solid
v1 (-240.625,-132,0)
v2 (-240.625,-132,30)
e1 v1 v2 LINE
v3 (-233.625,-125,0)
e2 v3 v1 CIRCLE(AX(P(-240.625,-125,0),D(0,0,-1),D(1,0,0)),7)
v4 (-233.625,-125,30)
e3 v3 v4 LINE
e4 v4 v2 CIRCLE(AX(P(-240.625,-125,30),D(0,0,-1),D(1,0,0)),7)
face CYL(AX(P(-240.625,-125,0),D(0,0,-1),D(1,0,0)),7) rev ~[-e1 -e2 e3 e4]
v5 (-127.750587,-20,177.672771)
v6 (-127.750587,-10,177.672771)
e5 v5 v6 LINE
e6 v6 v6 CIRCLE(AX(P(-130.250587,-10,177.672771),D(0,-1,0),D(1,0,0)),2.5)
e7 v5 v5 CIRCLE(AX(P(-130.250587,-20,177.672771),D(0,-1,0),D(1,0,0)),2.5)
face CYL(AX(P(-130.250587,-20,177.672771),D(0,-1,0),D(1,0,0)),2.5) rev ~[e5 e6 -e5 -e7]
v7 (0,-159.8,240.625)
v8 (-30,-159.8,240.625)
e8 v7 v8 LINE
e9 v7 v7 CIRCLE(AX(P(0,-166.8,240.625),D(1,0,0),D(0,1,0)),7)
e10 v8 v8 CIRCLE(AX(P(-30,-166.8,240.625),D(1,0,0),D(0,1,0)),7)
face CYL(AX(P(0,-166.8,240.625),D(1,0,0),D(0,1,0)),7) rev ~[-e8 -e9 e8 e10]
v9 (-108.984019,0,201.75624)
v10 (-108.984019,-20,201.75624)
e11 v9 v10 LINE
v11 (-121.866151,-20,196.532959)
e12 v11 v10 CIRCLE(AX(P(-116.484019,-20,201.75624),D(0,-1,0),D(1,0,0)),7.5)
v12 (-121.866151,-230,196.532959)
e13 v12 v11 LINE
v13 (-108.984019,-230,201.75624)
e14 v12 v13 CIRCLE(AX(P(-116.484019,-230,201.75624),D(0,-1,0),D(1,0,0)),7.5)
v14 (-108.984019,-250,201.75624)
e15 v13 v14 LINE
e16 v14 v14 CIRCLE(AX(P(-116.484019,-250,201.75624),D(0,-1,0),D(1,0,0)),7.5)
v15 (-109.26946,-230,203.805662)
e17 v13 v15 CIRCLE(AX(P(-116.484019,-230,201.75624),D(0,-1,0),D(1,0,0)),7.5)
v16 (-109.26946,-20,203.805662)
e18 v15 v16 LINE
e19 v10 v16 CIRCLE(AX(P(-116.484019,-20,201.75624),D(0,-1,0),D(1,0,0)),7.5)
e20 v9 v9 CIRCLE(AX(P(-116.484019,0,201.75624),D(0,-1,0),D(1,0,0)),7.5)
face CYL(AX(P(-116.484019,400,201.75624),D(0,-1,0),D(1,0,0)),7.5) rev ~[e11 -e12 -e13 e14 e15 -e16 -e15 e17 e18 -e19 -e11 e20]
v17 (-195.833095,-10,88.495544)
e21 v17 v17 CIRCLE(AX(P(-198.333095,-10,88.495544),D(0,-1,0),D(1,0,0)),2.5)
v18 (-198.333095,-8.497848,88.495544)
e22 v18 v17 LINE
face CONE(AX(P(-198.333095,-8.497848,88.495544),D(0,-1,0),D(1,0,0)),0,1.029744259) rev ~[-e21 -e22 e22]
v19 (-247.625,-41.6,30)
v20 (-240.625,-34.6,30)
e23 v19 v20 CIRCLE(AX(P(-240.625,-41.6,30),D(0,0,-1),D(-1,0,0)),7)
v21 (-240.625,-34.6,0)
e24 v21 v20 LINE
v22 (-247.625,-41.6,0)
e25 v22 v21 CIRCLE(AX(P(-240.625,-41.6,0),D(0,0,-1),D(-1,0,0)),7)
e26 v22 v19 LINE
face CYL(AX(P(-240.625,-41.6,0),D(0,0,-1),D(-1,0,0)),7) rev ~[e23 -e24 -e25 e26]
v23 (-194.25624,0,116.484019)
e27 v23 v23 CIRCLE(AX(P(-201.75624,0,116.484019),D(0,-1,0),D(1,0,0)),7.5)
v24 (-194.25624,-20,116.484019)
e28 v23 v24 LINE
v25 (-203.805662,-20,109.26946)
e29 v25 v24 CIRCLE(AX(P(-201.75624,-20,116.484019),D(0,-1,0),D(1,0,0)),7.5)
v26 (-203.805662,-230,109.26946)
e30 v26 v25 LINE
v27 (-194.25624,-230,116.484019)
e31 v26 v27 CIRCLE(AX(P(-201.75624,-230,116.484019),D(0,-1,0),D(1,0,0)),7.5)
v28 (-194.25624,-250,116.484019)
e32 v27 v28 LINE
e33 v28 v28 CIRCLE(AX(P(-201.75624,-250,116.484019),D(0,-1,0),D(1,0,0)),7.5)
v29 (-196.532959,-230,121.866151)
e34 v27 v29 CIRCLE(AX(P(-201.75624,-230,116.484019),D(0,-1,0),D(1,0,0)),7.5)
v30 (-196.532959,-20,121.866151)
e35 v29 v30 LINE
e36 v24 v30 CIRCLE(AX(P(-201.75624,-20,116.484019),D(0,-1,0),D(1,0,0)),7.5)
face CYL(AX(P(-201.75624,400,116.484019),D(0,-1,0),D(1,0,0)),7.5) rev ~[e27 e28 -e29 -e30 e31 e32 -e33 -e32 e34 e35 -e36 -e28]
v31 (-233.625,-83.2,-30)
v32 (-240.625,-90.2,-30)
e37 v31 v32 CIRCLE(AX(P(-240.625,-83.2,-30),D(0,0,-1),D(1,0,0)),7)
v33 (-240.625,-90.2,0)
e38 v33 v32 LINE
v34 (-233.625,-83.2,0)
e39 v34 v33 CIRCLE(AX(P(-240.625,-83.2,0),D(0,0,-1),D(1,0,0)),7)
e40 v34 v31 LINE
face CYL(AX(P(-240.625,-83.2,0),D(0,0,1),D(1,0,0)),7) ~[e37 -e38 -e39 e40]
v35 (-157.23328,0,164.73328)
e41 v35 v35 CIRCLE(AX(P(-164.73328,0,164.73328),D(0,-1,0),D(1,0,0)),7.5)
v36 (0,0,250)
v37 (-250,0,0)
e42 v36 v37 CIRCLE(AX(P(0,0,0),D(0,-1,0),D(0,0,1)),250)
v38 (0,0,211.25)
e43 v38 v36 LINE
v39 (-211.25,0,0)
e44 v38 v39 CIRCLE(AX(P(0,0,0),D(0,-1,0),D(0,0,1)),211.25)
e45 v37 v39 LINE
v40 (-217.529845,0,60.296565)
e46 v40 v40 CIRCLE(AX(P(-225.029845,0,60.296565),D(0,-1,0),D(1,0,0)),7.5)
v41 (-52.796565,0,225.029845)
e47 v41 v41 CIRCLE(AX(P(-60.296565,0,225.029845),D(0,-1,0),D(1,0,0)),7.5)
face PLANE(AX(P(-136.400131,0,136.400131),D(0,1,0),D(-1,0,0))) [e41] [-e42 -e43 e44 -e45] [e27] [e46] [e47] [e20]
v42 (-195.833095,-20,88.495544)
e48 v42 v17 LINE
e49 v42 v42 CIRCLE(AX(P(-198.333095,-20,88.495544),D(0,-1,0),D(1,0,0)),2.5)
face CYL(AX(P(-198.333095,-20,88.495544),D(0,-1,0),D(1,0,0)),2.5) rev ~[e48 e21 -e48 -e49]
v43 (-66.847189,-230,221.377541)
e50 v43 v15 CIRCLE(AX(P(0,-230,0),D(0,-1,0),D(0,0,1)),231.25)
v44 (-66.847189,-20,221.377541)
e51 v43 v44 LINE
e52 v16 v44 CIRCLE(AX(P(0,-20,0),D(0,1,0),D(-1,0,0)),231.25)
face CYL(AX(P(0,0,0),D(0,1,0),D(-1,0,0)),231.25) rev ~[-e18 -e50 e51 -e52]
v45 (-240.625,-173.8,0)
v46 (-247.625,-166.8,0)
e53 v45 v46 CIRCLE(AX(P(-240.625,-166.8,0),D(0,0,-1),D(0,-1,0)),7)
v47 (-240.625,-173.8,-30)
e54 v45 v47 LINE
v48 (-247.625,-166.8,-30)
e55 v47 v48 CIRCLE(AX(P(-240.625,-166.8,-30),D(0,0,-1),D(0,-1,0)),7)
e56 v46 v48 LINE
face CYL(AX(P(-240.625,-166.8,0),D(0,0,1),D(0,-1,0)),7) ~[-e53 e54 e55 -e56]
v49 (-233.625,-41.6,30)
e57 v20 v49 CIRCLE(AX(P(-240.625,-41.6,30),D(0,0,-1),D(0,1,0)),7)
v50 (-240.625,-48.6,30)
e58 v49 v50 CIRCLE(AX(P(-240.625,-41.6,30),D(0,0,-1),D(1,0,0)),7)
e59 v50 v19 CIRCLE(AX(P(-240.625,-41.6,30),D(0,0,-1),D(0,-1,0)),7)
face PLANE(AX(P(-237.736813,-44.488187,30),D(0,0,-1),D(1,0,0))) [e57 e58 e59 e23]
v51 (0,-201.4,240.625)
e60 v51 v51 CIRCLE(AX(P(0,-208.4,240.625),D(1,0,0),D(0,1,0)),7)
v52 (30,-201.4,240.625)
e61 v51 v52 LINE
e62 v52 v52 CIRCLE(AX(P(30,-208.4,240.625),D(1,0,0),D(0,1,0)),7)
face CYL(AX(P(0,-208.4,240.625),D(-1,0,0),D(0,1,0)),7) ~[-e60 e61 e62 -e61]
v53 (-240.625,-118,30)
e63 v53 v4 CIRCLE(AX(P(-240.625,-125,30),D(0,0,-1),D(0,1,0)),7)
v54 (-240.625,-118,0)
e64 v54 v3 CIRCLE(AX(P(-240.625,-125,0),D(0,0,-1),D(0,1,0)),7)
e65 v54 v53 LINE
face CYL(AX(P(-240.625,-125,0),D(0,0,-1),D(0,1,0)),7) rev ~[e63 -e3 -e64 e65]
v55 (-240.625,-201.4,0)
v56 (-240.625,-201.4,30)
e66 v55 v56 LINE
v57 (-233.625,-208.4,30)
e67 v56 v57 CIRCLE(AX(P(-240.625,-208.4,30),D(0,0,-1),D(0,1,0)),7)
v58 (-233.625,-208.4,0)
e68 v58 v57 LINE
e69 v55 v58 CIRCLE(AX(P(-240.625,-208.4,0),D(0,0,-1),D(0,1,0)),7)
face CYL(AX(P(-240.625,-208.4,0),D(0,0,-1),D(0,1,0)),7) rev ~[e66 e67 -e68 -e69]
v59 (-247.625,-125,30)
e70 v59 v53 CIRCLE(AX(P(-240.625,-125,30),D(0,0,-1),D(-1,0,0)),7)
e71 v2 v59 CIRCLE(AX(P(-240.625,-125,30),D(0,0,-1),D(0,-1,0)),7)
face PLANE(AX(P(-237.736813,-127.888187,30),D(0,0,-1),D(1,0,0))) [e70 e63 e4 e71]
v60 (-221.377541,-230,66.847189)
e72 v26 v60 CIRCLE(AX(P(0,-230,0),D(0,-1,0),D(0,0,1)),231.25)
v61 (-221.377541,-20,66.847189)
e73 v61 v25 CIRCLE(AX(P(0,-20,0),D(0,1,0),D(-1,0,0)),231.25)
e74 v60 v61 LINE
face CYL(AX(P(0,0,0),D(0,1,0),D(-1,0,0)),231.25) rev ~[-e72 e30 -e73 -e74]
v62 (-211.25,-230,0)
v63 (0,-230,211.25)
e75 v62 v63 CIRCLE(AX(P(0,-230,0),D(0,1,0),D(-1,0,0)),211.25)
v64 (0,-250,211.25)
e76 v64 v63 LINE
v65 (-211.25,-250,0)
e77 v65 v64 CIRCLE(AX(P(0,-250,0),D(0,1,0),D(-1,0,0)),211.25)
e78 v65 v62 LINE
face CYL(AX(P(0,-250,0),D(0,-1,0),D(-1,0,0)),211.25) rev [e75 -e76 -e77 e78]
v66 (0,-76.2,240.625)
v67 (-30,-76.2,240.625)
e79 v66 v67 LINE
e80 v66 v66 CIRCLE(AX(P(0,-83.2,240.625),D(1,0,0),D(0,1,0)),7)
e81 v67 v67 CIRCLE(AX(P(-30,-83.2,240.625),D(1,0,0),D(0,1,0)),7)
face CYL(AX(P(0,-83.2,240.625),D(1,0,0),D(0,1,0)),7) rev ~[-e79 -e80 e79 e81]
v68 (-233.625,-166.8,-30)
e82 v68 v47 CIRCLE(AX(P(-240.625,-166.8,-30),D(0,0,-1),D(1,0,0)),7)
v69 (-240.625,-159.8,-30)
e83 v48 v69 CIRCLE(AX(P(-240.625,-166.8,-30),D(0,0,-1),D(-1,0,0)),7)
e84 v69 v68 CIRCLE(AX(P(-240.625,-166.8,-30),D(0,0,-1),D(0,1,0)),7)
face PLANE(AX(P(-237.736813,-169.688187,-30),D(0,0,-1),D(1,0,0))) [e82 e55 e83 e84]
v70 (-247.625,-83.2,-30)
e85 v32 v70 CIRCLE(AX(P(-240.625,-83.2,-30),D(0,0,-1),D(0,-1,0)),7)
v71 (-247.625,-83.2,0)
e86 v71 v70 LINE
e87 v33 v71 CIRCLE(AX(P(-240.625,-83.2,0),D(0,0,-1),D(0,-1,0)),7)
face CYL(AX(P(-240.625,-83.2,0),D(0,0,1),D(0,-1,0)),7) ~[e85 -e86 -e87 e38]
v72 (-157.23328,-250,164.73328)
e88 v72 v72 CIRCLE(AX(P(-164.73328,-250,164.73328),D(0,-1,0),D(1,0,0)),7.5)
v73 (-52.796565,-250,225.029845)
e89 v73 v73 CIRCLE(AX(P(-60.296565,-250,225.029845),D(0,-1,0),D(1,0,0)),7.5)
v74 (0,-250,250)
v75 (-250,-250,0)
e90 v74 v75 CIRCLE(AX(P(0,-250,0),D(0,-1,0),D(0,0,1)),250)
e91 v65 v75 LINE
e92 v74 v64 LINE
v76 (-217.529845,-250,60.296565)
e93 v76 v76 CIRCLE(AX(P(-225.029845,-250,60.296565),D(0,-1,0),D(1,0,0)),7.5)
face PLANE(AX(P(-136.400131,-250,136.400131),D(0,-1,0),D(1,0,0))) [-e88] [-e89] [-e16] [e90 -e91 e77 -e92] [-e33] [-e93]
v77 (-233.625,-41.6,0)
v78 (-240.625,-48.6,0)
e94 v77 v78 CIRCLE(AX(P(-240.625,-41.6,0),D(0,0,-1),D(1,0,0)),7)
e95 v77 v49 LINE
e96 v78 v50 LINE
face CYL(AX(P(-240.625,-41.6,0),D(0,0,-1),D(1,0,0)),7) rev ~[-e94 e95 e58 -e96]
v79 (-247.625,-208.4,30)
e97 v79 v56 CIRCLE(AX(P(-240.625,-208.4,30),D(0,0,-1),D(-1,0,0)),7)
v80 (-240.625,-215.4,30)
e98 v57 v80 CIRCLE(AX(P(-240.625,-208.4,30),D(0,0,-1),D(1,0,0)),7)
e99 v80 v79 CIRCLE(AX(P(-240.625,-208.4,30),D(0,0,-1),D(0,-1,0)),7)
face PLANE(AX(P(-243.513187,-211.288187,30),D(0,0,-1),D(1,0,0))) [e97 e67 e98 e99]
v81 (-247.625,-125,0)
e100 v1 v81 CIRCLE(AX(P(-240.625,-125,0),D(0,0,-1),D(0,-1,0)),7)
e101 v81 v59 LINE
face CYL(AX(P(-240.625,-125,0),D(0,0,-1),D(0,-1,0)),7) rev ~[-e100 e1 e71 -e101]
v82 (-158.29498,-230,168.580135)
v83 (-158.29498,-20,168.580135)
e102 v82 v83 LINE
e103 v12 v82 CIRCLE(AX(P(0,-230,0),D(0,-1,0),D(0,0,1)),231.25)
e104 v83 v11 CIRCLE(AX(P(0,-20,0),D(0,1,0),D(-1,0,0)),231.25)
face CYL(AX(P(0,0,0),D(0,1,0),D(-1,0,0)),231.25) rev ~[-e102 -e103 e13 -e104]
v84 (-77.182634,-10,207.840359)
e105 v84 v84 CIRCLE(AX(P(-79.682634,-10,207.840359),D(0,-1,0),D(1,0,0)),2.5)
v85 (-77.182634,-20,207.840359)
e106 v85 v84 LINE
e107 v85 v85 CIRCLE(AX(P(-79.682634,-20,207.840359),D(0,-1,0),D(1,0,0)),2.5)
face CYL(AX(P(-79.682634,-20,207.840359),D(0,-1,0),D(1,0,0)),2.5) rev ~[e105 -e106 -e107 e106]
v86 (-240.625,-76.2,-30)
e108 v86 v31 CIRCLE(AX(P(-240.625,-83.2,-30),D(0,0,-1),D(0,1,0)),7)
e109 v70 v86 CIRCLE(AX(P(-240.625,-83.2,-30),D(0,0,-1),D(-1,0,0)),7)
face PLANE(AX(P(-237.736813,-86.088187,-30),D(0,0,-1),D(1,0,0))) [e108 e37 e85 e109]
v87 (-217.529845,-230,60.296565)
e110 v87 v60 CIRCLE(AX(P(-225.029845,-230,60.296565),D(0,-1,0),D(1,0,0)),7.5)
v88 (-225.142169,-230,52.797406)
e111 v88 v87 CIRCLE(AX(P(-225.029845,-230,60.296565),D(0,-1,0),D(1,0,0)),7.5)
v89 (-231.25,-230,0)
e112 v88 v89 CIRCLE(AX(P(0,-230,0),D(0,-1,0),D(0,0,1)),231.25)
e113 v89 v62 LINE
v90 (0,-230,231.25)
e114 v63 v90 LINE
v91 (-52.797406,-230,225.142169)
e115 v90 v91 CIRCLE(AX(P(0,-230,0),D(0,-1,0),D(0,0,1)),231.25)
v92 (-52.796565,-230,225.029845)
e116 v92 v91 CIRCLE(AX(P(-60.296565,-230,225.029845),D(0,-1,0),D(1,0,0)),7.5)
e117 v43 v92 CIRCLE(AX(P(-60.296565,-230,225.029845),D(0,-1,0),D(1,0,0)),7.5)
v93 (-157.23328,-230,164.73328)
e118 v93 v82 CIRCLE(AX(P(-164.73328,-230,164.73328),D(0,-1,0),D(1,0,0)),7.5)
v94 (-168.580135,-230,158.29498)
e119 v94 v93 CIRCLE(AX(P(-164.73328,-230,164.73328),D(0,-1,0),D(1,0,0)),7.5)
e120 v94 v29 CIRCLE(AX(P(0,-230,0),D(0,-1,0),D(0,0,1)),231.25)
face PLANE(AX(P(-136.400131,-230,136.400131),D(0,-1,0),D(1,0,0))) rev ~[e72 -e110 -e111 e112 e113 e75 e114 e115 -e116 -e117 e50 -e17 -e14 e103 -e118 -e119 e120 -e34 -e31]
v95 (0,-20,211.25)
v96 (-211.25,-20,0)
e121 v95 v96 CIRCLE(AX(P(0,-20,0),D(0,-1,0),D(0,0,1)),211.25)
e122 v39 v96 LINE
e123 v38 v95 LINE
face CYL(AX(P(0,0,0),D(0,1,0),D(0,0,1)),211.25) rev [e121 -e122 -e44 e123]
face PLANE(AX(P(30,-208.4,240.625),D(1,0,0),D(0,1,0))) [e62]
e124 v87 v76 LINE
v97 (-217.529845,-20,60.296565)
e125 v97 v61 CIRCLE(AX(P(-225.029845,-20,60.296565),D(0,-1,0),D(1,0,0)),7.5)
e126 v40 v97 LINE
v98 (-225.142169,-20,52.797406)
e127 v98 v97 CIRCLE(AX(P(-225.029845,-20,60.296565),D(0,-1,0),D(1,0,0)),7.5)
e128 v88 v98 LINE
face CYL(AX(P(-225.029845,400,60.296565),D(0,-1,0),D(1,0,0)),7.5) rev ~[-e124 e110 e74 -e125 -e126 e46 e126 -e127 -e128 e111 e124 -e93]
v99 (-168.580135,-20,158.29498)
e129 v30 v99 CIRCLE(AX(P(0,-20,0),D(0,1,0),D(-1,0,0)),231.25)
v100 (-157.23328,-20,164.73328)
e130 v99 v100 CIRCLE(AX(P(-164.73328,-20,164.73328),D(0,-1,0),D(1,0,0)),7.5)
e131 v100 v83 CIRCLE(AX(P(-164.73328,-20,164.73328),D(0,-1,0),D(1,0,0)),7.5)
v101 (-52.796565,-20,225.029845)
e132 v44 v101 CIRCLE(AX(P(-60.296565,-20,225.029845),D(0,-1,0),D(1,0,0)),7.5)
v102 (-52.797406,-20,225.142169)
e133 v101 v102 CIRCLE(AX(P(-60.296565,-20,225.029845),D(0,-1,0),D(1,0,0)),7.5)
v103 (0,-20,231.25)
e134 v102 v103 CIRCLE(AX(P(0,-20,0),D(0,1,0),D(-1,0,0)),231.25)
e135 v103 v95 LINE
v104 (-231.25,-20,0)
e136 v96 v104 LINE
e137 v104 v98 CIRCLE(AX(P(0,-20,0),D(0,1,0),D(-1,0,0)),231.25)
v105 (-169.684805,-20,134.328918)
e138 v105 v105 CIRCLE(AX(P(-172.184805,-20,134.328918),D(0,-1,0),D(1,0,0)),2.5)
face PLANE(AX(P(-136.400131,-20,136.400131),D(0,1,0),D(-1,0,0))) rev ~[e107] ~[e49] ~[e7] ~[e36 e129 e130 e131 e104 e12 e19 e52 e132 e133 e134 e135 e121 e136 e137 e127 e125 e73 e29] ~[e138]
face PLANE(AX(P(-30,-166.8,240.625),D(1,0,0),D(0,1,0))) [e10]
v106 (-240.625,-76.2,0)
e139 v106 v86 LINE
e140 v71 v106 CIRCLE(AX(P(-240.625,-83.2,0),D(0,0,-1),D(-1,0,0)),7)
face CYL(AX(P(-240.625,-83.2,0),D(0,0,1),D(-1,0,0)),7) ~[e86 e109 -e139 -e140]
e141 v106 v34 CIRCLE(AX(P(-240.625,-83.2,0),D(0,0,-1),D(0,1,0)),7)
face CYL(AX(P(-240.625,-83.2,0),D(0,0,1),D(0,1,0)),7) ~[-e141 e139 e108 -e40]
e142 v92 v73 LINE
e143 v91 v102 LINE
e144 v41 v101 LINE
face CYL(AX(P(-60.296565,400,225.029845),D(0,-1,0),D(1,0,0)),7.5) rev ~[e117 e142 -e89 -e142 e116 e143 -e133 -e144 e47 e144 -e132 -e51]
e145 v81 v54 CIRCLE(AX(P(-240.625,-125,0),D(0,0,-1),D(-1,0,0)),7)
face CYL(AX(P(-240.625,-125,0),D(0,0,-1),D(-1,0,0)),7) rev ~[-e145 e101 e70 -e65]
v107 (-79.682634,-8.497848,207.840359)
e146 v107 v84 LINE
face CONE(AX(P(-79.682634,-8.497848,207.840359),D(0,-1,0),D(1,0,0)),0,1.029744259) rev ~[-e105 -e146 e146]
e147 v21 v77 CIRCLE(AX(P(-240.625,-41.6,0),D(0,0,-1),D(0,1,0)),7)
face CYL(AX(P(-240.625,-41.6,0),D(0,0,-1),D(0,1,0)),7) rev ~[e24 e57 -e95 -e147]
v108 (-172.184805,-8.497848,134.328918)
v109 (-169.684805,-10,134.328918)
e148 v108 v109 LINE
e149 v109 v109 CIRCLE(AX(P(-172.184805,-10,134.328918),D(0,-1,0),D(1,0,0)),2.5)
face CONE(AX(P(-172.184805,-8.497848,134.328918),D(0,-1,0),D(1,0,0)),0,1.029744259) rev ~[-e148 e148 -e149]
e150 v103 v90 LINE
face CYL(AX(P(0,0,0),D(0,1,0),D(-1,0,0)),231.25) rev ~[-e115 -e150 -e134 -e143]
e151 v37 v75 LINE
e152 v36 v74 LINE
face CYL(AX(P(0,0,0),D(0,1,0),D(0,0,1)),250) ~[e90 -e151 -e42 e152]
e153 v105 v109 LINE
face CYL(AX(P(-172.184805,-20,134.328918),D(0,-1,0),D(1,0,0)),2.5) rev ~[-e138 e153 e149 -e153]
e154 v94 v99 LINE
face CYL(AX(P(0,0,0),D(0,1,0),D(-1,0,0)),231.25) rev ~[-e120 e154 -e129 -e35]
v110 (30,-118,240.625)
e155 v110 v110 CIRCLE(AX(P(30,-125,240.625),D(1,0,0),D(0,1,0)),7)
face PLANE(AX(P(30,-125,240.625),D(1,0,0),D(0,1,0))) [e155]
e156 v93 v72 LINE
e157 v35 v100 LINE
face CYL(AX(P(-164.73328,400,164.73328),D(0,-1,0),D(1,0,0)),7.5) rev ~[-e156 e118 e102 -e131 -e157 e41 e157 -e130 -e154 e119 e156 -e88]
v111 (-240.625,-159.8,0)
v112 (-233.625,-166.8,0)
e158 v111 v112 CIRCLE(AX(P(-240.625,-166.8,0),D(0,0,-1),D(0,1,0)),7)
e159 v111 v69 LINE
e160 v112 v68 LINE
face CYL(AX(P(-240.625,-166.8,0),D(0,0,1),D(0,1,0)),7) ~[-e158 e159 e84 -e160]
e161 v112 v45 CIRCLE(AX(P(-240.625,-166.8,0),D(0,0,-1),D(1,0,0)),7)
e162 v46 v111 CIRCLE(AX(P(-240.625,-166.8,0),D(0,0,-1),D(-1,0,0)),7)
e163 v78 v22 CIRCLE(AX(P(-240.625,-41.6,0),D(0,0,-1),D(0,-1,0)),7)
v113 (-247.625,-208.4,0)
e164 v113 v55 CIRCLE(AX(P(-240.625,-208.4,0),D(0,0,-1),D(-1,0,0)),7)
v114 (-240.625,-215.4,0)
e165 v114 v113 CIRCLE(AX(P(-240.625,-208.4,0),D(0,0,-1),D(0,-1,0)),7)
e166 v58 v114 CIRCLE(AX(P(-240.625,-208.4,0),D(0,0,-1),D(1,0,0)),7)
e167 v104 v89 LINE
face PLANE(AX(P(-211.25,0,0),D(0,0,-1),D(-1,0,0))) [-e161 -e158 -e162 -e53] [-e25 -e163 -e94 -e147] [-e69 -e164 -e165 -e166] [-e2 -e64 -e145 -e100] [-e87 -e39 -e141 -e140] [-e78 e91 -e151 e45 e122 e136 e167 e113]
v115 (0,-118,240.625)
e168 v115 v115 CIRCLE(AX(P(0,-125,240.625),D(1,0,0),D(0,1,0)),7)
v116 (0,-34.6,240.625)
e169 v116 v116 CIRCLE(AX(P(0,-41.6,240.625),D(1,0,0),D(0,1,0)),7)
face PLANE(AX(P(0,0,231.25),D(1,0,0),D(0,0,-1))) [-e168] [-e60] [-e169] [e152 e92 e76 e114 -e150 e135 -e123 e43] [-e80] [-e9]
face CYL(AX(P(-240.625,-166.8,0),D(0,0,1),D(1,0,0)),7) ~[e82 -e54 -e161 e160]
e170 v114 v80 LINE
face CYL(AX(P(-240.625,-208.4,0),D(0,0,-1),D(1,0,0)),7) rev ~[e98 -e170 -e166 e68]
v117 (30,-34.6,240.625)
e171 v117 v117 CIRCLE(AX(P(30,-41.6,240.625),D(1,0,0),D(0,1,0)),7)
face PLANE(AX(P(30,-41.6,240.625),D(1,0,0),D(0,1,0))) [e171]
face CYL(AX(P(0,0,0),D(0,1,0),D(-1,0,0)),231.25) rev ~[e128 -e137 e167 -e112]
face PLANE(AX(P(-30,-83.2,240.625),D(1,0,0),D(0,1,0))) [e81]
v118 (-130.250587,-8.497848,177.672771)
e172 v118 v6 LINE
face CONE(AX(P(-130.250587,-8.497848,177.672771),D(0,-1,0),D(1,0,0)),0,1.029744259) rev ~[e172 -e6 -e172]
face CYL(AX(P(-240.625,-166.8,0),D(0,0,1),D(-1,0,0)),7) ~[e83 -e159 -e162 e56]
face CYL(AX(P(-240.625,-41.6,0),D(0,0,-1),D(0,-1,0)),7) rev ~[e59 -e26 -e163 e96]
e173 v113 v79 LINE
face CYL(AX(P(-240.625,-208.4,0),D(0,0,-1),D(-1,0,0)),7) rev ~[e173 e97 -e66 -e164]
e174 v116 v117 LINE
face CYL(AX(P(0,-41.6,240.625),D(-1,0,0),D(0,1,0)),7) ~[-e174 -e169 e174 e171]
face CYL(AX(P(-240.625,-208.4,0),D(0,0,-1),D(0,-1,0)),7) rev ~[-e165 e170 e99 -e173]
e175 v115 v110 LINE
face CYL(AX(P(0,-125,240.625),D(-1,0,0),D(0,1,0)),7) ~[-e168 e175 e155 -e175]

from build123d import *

# Parameters (mm, degrees)
F1_DEPTH  = 250
F2_R      = 7
F3_DEPTH  = 30
F4_DEPTH  = 30
F6_DEPTH  = 20
F8_DEPTH  = 20
F10_DEPTH = 30
F11_DEPTH = 30
F13_D     = 15
F13_DEPTH = 400
F13_TIP   = 4.5064546427
F15_D     = 5
F15_DEPTH = 10
F15_TIP   = 1.5021515476


with BuildPart() as f1:
    # F0 (on Front) → F1 (new body)
    with BuildSketch(Plane.XZ):
        with BuildLine():
            Line((0, 231.25), (0, 250))
            ThreePointArc((0, 250), (-176.7766952966, 176.7766952966), (-250, 0))
            Line((-250, 0), (-231.25, 0))
            ThreePointArc((-231.25, 0), (-163.5184431494, 163.5184431494), (0, 231.25))
        make_face()
    extrude(amount=F1_DEPTH)

    # F2 (on face) → F3 (join)
    with BuildSketch(Plane.YZ):
        with Locations((-208.4, 240.625)):
            Circle(F2_R)
        with Locations((-125, 240.625)):
            Circle(F2_R)
        with Locations((-41.6, 240.625)):
            Circle(F2_R)
    extrude(amount=F3_DEPTH)

    # F2 (on face) → F4 (cut)
    with BuildSketch(Plane.YZ):
        with Locations((-166.8, 240.625)):
            Circle(F2_R)
        with Locations((-83.2, 240.625)):
            Circle(F2_R)
    extrude(amount=-F4_DEPTH, mode=Mode.SUBTRACT)

    # F5 (on face) → F6 (join)
    with BuildSketch(Plane.XZ.offset(250)):
        with BuildLine():
            ThreePointArc((-211.25, 0), (-149.3763075257, 149.3763075257), (0, 211.25))
            Line((0, 211.25), (0, 231.25))
            ThreePointArc((0, 231.25), (-163.5184431494, 163.5184431494), (-231.25, 0))
            Line((-231.25, 0), (-211.25, 0))
        make_face()
    extrude(amount=-F6_DEPTH)

    # F7 (on face) → F8 (join)
    with BuildSketch(Plane(origin=(0, 0, 0), x_dir=(-1, 0, 0), z_dir=(0, 1, 0))):
        with BuildLine():
            ThreePointArc((0, 211.25), (149.3763075257, 149.3763075257), (211.25, 0))
            Line((211.25, 0), (231.25, 0))
            ThreePointArc((231.25, 0), (163.5184431494, 163.5184431494), (0, 231.25))
            Line((0, 231.25), (0, 211.25))
        make_face()
    extrude(amount=-F8_DEPTH)

    # F9 (on face) → F10 (join)
    with BuildSketch(Plane(origin=(0, 0, 0), x_dir=(1, 0, 0), z_dir=(0, 0, -1))):
        with BuildLine():
            Line((-240.625, 166.8), (-233.625, 166.8))
            ThreePointArc((-233.625, 166.8), (-235.6752525317, 171.7497474683), (-240.625, 173.8))
            Line((-240.625, 173.8), (-240.625, 166.8))
        make_face()
        with BuildLine():
            ThreePointArc((-240.625, 159.8), (-235.6752525317, 161.8502525317), (-233.625, 166.8))
            Line((-233.625, 166.8), (-240.625, 166.8))
            Line((-240.625, 166.8), (-240.625, 159.8))
        make_face()
        with BuildLine():
            Line((-240.625, 166.8), (-247.625, 166.8))
            ThreePointArc((-247.625, 166.8), (-245.5747474683, 161.8502525317), (-240.625, 159.8))
            Line((-240.625, 159.8), (-240.625, 166.8))
        make_face()
        with BuildLine():
            ThreePointArc((-240.625, 173.8), (-245.5747474683, 171.7497474683), (-247.625, 166.8))
            Line((-247.625, 166.8), (-240.625, 166.8))
            Line((-240.625, 166.8), (-240.625, 173.8))
        make_face()
        with BuildLine():
            Line((-240.625, 90.2), (-240.625, 83.2))
            Line((-240.625, 83.2), (-233.625, 83.2))
            ThreePointArc((-233.625, 83.2), (-235.6752525317, 88.1497474683), (-240.625, 90.2))
        make_face()
        with BuildLine():
            Line((-240.625, 83.2), (-240.625, 76.2))
            ThreePointArc((-240.625, 76.2), (-235.6752525317, 78.2502525317), (-233.625, 83.2))
            Line((-233.625, 83.2), (-240.625, 83.2))
        make_face()
        with BuildLine():
            Line((-247.625, 83.2), (-240.625, 83.2))
            Line((-240.625, 83.2), (-240.625, 90.2))
            ThreePointArc((-240.625, 90.2), (-245.5747474683, 88.1497474683), (-247.625, 83.2))
        make_face()
        with BuildLine():
            ThreePointArc((-247.625, 83.2), (-245.5747474683, 78.2502525317), (-240.625, 76.2))
            Line((-240.625, 76.2), (-240.625, 83.2))
            Line((-240.625, 83.2), (-247.625, 83.2))
        make_face()
    extrude(amount=F10_DEPTH)

    # F9 (on face) → F11 (cut)
    with BuildSketch(Plane(origin=(0, 0, 0), x_dir=(1, 0, 0), z_dir=(0, 0, -1))):
        with BuildLine():
            ThreePointArc((-240.625, 215.4), (-245.5747474683, 213.3497474683), (-247.625, 208.4))
            Line((-247.625, 208.4), (-240.625, 208.4))
            Line((-240.625, 208.4), (-240.625, 215.4))
        make_face()
        with BuildLine():
            Line((-240.625, 208.4), (-233.625, 208.4))
            ThreePointArc((-233.625, 208.4), (-235.6752525317, 213.3497474683), (-240.625, 215.4))
            Line((-240.625, 215.4), (-240.625, 208.4))
        make_face()
        with BuildLine():
            ThreePointArc((-240.625, 201.4), (-235.6752525317, 203.4502525317), (-233.625, 208.4))
            Line((-233.625, 208.4), (-240.625, 208.4))
            Line((-240.625, 208.4), (-240.625, 201.4))
        make_face()
        with BuildLine():
            Line((-240.625, 125), (-233.625, 125))
            ThreePointArc((-233.625, 125), (-235.6752525317, 129.9497474683), (-240.625, 132))
            Line((-240.625, 132), (-240.625, 125))
        make_face()
        with BuildLine():
            Line((-240.625, 125), (-247.625, 125))
            ThreePointArc((-247.625, 125), (-245.5747474683, 120.0502525317), (-240.625, 118))
            Line((-240.625, 118), (-240.625, 125))
        make_face()
        with BuildLine():
            ThreePointArc((-240.625, 118), (-235.6752525317, 120.0502525317), (-233.625, 125))
            Line((-233.625, 125), (-240.625, 125))
            Line((-240.625, 125), (-240.625, 118))
        make_face()
        with BuildLine():
            ThreePointArc((-240.625, 132), (-245.5747474683, 129.9497474683), (-247.625, 125))
            Line((-247.625, 125), (-240.625, 125))
            Line((-240.625, 125), (-240.625, 132))
        make_face()
        with BuildLine():
            Line((-240.625, 48.6), (-240.625, 41.6))
            Line((-240.625, 41.6), (-233.625, 41.6))
            ThreePointArc((-233.625, 41.6), (-235.6752525317, 46.5497474683), (-240.625, 48.6))
        make_face()
        with BuildLine():
            Line((-233.625, 41.6), (-240.625, 41.6))
            Line((-240.625, 41.6), (-240.625, 34.6))
            ThreePointArc((-240.625, 34.6), (-235.6752525317, 36.6502525317), (-233.625, 41.6))
        make_face()
        with BuildLine():
            Line((-247.625, 41.6), (-240.625, 41.6))
            Line((-240.625, 41.6), (-240.625, 48.6))
            ThreePointArc((-240.625, 48.6), (-245.5747474683, 46.5497474683), (-247.625, 41.6))
        make_face()
        with BuildLine():
            Line((-240.625, 34.6), (-240.625, 41.6))
            Line((-240.625, 41.6), (-247.625, 41.6))
            ThreePointArc((-247.625, 41.6), (-245.5747474683, 36.6502525317), (-240.625, 34.6))
        make_face()
        with BuildLine():
            Line((-240.625, 208.4), (-247.625, 208.4))
            ThreePointArc((-247.625, 208.4), (-245.5747474683, 203.4502525317), (-240.625, 201.4))
            Line((-240.625, 201.4), (-240.625, 208.4))
        make_face()
    extrude(amount=-F11_DEPTH, mode=Mode.SUBTRACT)

    # F13
    with Locations(Plane(origin=(0, 0, 0), x_dir=(-1, 0, 0), z_dir=(0, 1, 0))):
        with Locations((60.2965652341, 225.0298449755), (116.4840191922, 201.7562395108), (164.7332797414, 164.7332797414), (201.7562395108, 116.4840191922), (225.0298449755, 60.2965652341)):
            Hole(F13_D / 2, depth=F13_DEPTH)
            with Locations((0, 0, -(F13_DEPTH + F13_TIP / 2))):  # 118° drill point
                Cone(0, F13_D / 2, F13_TIP, mode=Mode.SUBTRACT)

    # F15 (one way)
    with BuildSketch(Plane.XZ.offset(20)):
        with Locations((-198.3330953711, 88.4955437344), (-172.1848046199, 134.3289181376), (-130.2505871514, 177.6727710928), (-79.6826335432, 207.8403590443)):
            Circle(F15_D / 2)
    extrude(amount=-F15_DEPTH, mode=Mode.SUBTRACT)
    with Locations(Plane.XZ.offset(20)):
        with Locations((-198.3330953711, 88.4955437344), (-172.1848046199, 134.3289181376), (-130.2505871514, 177.6727710928), (-79.6826335432, 207.8403590443)):
            with Locations((0, 0, -(F15_DEPTH + F15_TIP / 2))):  # 118° drill point
                Cone(0, F15_D / 2, F15_TIP, mode=Mode.SUBTRACT)


solid = f1.part
